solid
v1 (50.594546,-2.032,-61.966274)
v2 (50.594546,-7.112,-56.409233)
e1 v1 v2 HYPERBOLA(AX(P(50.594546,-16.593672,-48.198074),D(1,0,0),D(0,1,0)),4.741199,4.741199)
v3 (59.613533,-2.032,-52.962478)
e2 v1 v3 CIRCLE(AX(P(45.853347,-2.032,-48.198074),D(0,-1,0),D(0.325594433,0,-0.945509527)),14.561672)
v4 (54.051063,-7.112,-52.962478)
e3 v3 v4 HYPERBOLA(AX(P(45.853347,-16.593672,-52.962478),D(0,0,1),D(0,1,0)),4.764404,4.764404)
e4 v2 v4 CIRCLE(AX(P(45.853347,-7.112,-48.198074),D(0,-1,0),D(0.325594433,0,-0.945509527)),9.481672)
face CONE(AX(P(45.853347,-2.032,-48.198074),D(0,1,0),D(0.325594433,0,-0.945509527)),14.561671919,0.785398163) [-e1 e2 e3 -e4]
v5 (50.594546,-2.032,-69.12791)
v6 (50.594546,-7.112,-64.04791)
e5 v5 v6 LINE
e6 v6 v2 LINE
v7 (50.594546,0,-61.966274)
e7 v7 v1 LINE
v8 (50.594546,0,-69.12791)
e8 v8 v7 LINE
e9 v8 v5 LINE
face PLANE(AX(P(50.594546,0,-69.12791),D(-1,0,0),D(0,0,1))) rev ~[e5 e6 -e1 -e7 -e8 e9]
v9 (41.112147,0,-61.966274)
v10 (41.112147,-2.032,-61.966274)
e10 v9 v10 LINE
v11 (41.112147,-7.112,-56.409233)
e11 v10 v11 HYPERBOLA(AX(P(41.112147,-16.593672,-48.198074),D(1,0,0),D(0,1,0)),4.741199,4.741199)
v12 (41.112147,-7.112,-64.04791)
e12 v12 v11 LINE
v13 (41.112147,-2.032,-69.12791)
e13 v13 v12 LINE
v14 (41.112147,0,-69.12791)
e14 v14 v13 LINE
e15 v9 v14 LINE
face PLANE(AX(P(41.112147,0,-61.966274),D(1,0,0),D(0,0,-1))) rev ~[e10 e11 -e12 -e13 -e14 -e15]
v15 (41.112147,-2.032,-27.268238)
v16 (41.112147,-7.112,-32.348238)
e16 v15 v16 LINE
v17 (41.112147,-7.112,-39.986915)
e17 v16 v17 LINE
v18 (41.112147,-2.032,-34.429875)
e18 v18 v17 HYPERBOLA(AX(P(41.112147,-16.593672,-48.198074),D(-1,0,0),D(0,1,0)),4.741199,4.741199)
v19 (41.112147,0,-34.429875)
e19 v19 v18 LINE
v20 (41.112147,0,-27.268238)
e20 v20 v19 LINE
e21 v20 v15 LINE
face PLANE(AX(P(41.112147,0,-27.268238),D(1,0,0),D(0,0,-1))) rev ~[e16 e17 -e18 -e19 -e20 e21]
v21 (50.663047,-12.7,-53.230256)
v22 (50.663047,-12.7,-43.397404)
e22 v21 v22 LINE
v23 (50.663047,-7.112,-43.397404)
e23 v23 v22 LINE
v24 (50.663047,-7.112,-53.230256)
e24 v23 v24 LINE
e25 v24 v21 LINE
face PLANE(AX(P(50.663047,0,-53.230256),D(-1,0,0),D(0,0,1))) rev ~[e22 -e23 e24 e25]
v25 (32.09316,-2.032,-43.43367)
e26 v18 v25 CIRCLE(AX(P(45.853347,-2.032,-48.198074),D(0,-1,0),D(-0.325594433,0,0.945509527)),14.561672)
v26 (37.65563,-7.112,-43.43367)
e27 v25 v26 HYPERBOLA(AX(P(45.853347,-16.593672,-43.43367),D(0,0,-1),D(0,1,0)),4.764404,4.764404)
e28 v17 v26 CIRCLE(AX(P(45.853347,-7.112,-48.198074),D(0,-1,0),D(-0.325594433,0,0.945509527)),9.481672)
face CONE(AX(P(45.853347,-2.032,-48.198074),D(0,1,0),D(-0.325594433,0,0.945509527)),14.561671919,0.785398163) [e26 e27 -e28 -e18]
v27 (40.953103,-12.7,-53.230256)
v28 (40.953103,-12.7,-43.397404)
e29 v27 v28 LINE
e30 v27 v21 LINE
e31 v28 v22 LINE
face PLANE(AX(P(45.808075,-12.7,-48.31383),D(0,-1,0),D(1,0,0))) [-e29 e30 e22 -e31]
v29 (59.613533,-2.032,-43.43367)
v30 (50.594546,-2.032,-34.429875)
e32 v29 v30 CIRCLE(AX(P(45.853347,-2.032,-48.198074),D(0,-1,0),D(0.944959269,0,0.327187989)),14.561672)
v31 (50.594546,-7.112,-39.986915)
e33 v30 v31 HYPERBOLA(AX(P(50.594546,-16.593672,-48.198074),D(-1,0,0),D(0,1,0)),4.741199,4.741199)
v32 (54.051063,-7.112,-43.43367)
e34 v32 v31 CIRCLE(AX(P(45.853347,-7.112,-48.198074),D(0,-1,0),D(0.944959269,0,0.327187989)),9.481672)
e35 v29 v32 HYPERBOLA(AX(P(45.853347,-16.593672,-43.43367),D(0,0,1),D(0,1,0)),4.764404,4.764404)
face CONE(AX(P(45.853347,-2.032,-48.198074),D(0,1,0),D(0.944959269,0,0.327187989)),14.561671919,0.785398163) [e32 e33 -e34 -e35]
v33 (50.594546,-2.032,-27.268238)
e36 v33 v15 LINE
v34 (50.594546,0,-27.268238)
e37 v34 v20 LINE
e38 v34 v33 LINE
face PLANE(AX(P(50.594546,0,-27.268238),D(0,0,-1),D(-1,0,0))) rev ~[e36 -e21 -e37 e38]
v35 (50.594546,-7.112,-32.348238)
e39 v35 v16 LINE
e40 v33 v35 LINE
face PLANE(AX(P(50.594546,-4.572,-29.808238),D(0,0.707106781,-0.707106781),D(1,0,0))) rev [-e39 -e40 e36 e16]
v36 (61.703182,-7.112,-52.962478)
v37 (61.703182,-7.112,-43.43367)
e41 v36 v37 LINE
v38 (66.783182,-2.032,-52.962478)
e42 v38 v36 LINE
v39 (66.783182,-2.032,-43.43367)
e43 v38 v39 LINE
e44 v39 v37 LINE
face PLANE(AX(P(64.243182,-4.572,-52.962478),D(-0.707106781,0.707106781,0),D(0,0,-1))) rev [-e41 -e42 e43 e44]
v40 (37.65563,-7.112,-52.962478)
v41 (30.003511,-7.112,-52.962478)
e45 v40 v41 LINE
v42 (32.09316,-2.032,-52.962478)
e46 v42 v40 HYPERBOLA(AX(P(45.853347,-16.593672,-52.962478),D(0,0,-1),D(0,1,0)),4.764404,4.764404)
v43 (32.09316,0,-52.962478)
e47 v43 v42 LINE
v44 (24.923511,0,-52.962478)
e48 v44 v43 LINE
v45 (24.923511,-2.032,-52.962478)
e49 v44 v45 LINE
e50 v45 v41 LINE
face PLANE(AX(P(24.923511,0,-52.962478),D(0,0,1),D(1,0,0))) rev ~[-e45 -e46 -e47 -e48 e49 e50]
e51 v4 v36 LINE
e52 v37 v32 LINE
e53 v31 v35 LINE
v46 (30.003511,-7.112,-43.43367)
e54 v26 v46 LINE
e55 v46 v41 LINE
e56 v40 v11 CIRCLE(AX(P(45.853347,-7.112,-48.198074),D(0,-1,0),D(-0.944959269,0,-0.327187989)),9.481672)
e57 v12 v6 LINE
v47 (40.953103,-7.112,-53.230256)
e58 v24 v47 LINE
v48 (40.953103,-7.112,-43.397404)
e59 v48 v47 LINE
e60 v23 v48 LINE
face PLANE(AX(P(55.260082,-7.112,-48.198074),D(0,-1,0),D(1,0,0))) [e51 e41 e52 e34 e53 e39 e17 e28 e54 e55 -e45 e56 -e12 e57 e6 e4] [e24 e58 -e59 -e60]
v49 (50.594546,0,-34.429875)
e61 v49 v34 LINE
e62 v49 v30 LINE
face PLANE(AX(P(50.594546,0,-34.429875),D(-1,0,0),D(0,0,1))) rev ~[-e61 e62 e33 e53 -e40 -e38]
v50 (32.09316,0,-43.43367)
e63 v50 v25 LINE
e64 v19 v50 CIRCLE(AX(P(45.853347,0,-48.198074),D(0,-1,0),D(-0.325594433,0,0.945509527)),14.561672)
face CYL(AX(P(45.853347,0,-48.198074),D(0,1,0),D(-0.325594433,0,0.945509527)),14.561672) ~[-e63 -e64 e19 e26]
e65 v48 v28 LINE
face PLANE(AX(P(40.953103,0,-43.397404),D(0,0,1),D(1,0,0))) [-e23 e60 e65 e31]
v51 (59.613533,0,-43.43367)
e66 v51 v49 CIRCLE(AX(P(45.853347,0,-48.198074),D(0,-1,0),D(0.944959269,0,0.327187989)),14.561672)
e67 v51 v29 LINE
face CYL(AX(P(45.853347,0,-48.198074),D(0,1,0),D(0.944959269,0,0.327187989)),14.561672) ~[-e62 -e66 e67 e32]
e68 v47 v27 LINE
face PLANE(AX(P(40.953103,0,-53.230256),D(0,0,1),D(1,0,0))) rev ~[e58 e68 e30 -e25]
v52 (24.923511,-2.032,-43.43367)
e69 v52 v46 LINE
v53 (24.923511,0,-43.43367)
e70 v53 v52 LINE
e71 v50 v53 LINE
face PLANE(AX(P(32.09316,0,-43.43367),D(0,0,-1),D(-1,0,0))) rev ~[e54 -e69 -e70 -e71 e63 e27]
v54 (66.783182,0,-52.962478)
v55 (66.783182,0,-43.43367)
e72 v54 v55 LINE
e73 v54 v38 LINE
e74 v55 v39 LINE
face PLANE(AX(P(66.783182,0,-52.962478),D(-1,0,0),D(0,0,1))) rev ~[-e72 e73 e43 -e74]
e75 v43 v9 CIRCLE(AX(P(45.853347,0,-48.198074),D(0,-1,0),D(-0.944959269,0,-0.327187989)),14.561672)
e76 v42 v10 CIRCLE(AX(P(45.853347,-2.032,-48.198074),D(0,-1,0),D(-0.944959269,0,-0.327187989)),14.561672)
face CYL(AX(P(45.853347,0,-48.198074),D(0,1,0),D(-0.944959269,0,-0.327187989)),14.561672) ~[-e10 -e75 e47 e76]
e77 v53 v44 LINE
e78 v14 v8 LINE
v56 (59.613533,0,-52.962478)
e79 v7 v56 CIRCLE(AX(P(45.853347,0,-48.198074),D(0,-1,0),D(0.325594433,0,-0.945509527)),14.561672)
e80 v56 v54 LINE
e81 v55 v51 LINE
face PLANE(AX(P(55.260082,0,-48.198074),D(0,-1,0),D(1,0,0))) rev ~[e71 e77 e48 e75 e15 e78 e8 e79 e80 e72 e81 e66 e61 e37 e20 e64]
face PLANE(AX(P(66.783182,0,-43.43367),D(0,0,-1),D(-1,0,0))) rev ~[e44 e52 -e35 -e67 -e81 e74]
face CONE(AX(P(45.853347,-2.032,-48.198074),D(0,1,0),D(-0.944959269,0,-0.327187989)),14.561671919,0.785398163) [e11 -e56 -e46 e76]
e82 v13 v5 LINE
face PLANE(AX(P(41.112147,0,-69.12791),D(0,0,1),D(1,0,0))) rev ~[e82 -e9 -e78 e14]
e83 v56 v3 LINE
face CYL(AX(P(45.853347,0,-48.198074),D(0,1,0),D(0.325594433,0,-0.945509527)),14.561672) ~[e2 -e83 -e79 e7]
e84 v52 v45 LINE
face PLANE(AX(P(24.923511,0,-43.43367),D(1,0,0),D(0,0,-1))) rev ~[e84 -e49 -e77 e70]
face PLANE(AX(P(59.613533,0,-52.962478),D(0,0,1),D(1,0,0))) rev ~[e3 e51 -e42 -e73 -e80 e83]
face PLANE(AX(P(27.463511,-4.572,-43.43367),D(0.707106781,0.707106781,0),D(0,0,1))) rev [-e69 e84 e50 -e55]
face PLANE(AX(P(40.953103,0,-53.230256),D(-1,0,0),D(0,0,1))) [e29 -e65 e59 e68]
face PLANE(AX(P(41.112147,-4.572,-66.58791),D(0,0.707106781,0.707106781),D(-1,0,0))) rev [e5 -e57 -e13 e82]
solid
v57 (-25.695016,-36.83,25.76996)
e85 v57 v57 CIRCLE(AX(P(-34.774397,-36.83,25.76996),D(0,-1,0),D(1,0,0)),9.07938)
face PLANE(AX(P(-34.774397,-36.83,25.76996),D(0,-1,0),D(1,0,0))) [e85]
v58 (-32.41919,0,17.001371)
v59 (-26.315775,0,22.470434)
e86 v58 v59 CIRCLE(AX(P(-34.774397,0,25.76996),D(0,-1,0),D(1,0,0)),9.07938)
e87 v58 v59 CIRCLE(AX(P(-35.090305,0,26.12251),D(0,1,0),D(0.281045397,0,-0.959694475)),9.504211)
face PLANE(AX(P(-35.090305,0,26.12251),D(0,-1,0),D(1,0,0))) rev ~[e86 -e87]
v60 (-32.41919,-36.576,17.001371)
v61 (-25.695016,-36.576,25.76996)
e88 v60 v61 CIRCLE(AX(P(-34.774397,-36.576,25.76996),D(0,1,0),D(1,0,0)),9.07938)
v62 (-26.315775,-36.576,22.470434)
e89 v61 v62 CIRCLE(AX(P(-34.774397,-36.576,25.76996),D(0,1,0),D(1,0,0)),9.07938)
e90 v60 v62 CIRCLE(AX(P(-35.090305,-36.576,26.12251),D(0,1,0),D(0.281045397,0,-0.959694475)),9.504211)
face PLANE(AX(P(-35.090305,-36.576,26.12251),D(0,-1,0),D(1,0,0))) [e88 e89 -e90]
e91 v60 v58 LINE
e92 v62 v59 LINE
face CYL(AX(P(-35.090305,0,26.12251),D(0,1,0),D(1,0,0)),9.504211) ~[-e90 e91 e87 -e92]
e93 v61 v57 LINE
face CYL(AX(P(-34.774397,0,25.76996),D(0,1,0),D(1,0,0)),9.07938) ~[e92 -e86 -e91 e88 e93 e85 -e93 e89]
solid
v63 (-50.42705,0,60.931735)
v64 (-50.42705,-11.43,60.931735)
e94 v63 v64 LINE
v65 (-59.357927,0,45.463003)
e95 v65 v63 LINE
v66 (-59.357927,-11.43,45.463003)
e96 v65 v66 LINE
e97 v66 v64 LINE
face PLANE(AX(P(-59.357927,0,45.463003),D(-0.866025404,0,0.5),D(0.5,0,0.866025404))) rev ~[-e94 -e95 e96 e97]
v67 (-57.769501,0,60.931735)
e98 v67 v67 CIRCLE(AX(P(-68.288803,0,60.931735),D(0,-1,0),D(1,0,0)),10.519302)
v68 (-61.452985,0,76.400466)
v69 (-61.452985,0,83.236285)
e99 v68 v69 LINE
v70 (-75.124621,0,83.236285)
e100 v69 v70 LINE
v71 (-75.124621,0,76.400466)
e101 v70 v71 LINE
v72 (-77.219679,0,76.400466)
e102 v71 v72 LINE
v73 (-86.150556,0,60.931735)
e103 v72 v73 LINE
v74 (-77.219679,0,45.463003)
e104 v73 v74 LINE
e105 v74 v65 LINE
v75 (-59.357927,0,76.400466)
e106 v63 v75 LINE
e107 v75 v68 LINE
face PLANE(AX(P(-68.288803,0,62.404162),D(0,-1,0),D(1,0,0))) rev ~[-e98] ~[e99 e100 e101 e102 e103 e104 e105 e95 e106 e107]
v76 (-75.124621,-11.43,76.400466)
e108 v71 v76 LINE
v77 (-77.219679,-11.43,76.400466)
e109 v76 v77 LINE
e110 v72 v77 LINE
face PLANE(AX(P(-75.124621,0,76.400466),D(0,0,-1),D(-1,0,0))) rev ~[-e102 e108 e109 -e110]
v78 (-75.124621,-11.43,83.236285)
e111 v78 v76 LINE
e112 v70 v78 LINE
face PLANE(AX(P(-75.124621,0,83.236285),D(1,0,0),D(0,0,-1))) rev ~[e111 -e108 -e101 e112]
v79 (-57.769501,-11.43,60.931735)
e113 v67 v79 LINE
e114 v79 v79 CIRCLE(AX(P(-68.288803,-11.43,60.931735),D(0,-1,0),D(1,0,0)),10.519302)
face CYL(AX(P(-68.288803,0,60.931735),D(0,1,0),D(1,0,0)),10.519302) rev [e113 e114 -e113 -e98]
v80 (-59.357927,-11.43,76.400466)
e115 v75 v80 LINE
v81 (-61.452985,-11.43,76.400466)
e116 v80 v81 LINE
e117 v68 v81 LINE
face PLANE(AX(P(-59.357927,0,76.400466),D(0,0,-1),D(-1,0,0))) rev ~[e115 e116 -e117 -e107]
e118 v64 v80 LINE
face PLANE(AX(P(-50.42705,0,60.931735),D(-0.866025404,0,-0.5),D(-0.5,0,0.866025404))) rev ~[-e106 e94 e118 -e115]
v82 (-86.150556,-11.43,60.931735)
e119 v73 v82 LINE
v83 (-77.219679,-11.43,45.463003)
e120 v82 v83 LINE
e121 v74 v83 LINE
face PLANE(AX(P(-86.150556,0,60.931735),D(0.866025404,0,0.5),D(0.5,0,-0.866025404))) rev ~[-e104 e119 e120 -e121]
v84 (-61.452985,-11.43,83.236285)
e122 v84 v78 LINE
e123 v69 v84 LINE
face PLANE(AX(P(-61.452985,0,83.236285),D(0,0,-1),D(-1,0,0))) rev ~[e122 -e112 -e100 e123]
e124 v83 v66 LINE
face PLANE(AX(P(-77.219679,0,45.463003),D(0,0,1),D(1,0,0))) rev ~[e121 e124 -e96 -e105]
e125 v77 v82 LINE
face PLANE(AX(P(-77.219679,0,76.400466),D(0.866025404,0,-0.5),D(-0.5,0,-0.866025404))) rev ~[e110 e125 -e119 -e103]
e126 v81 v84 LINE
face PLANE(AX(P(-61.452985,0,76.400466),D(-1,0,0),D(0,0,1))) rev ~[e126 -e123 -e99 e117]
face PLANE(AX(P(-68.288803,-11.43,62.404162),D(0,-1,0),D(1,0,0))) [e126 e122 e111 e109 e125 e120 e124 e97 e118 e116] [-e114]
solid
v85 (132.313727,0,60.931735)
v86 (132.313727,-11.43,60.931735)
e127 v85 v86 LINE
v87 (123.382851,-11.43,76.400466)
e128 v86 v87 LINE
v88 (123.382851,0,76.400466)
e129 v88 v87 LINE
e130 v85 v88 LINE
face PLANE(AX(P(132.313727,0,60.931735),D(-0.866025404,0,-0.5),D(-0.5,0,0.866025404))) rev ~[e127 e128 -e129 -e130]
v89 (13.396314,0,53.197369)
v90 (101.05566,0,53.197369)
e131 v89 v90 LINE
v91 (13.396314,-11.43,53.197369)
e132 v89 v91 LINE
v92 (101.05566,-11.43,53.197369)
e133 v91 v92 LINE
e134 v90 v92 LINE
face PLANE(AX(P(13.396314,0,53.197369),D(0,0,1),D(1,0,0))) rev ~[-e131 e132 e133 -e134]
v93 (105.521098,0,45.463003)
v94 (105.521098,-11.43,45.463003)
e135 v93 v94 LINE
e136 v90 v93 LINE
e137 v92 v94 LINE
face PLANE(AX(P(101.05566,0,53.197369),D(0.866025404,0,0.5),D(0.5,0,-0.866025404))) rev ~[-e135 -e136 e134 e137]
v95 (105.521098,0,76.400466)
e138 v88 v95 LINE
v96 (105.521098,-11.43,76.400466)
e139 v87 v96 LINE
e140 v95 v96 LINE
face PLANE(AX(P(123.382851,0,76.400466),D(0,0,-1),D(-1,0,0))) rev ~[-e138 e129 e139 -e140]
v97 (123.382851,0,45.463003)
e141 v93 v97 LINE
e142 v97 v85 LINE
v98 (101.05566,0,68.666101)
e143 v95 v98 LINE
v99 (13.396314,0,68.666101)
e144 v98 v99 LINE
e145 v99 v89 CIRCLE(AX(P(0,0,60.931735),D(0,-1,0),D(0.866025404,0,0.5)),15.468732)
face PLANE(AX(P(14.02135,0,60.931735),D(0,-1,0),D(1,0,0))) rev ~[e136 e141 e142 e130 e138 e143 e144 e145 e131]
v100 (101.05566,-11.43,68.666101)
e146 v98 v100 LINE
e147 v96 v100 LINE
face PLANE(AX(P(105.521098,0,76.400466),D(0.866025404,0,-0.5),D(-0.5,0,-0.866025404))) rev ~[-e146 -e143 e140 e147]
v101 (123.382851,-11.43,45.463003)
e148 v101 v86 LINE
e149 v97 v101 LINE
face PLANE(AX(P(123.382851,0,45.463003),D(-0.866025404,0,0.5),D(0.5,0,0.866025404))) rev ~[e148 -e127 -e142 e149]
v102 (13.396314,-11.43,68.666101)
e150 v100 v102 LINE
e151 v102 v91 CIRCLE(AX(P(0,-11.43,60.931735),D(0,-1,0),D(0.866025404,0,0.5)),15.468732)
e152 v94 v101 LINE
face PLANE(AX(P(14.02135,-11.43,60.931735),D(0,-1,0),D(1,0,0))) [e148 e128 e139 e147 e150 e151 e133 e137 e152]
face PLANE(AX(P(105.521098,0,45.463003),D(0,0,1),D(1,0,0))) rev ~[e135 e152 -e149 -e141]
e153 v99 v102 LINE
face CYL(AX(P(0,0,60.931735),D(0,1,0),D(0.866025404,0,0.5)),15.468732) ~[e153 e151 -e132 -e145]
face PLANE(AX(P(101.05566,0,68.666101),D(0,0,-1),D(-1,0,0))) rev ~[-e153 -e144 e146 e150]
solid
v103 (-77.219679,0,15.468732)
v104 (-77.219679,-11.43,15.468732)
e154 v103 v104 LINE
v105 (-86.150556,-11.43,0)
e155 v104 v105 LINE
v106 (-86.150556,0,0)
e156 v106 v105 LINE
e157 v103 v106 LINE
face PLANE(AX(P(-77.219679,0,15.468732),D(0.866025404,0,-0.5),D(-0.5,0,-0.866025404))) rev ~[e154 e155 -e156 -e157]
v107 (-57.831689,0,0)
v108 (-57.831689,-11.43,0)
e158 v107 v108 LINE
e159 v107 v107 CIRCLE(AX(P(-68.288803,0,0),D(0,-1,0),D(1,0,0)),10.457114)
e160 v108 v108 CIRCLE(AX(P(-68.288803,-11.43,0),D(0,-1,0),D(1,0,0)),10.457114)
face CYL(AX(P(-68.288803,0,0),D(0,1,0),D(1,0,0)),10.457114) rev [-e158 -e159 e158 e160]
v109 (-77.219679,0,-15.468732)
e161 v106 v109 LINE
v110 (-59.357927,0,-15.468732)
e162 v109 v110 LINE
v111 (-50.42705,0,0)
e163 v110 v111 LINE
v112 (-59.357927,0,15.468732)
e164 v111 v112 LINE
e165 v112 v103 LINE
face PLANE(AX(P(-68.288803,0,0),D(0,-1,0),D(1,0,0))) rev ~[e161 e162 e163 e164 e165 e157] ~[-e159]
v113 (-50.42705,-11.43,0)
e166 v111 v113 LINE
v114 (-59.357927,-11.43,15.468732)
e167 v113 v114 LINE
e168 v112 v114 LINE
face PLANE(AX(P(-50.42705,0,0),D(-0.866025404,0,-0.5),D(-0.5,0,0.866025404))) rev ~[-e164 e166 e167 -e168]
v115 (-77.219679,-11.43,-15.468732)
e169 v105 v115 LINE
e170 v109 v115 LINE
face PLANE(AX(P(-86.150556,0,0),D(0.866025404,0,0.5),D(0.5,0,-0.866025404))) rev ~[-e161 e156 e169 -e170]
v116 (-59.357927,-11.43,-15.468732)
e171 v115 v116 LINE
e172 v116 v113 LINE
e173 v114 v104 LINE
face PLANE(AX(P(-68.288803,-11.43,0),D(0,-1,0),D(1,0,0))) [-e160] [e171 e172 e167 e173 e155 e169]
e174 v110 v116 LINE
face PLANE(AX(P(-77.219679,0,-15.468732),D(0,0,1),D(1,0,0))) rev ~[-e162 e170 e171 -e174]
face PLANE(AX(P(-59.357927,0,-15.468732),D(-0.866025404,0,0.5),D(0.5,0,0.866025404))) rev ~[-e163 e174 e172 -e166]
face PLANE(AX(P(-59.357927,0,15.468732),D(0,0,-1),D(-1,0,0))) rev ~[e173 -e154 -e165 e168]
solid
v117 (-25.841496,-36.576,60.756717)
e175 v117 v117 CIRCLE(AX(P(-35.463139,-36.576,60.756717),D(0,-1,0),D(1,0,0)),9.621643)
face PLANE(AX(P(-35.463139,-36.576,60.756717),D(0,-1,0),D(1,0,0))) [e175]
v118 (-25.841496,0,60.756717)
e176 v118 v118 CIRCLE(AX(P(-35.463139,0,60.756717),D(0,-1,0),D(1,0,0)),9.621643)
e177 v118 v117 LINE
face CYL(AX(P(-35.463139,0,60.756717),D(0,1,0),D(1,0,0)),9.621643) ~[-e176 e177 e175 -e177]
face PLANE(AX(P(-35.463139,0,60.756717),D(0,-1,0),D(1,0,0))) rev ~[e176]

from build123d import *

# Parameters (mm, degrees)
F0_R      = 10.519302146
F1_DEPTH  = 11.43
F0_R_2    = 10.4571143602
F2_R      = 9.5042113309
F3_DEPTH  = 36.576
F2_R_2    = 9.621642993
F5_DEPTH  = 7.112
F6_SIZE   = 5.08
F7_W      = 9.7099430859
F7_H      = 9.8328515887
F8_DEPTH  = 12.7
F9_R      = 9.0793803352
F10_DEPTH = 36.83


with BuildPart() as f1:
    # F0 (on Front) → F1 (new body)
    with BuildSketch(Plane.XZ):
        Polygon((-75.1246213913, 76.4004662633), (-77.2196794092, 76.4004662633), (-86.1505557177, 60.9317347407), (-77.2196794092, 45.4630032182), (-59.357926792, 45.4630032182), (-50.4270504834, 60.9317347407), (-59.357926792, 76.4004662633), (-61.4529848099, 76.4004662633), (-61.4529848099, 69.5646479726), (-68.2888031006, 76.4004662633), (-75.1246213913, 69.5646479726), align=None)
        with Locations((-68.2888031006, 60.9317347407)):
            Circle(F0_R, mode=Mode.SUBTRACT)
        Polygon((-75.1246213913, 83.236284554), (-75.1246213913, 76.4004662633), (-68.2888031006, 76.4004662633), (-61.4529848099, 76.4004662633), (-61.4529848099, 83.236284554), align=None)
        Polygon((-68.2888031006, 76.4004662633), (-75.1246213913, 76.4004662633), (-75.1246213913, 69.5646479726), align=None)
        Polygon((-61.4529848099, 76.4004662633), (-68.2888031006, 76.4004662633), (-61.4529848099, 69.5646479726), align=None)
    extrude(amount=F1_DEPTH)


with BuildPart() as f1b:
    # F0 (on Front) → F1, piece 2 (new body)
    with BuildSketch(Plane.XZ):
        with BuildLine():
            ThreePointArc((15.4687315226, 60.9317347407), (14.9416472776, 64.9353370624), (13.3963144629, 68.666100502))
            Line((13.3963144629, 68.666100502), (13.3963144629, 53.1973689795))
            ThreePointArc((13.3963144629, 53.1973689795), (14.9416472776, 56.9281324191), (15.4687315226, 60.9317347407))
        make_face()
        with BuildLine():
            Line((101.0556601675, 68.666100502), (13.3963144629, 68.666100502))
            ThreePointArc((13.3963144629, 68.666100502), (14.9416472776, 64.9353370624), (15.4687315226, 60.9317347407))
            ThreePointArc((15.4687315226, 60.9317347407), (14.9416472776, 56.9281324191), (13.3963144629, 53.1973689795))
            Line((13.3963144629, 53.1973689795), (101.0556601675, 53.1973689795))
            Line((101.0556601675, 53.1973689795), (96.5902220132, 60.9317347407))
            Line((96.5902220132, 60.9317347407), (101.0556601675, 68.666100502))
        make_face()
        with BuildLine():
            Line((13.3963144629, 53.1973689795), (13.3963144629, 68.666100502))
            ThreePointArc((13.3963144629, 68.666100502), (-15.4687315226, 60.9317347407), (13.3963144629, 53.1973689795))
        make_face()
        Polygon((105.5210983218, 76.4004662633), (101.0556601675, 68.666100502), (114.4519746304, 68.666100502), (114.4519746304, 53.1973689795), (101.0556601675, 53.1973689795), (105.5210983218, 45.4630032182), (123.3828509389, 45.4630032182), (132.3137272475, 60.9317347407), (123.3828509389, 76.4004662633), align=None)
        Polygon((114.4519746304, 68.666100502), (101.0556601675, 68.666100502), (96.5902220132, 60.9317347407), (101.0556601675, 53.1973689795), (114.4519746304, 53.1973689795), align=None)
    extrude(amount=F1_DEPTH)


with BuildPart() as f1c:
    # F0 (on Front) → F1, piece 3 (new body)
    with BuildSketch(Plane.XZ):
        Polygon((-59.357926792, -15.4687315226), (-50.4270504834, 0), (-59.357926792, 15.4687315226), (-77.2196794092, 15.4687315226), (-86.1505557177, 0), (-77.2196794092, -15.4687315226), align=None)
        with Locations((-68.2888031006, 0)):
            Circle(F0_R_2, mode=Mode.SUBTRACT)
    extrude(amount=F1_DEPTH)


with BuildPart() as f3:
    # F2 (on Front) → F3 (new body)
    with BuildSketch(Plane.XZ):
        with Locations((-35.0903049111, 26.1225104332)):
            Circle(F2_R)
    extrude(amount=F3_DEPTH)

    # F9 (on Front) → F10 (join)
    with BuildSketch(Plane.XZ):
        with Locations((-34.7743965685, 25.7699601352)):
            Circle(F9_R)
    extrude(amount=F10_DEPTH)


with BuildPart() as f3b:
    # F2 (on Front) → F3, piece 2 (new body)
    with BuildSketch(Plane.XZ):
        with Locations((-35.4631394148, 60.7567168772)):
            Circle(F2_R_2)
    extrude(amount=F3_DEPTH)


with BuildPart() as f5:
    # F4 (on Front) → F5 (new body)
    with BuildSketch(Plane.XZ):
        with BuildLine():
            ThreePointArc((59.6135334386, -52.9624782503), (60.2132493643, -50.6137481904), (60.4150185059, -48.1980741024))
            ThreePointArc((60.4150185059, -48.1980741024), (60.2132493643, -45.7824000144), (59.6135334386, -43.4336699545))
            Line((59.6135334386, -43.4336699545), (50.5945459008, -43.4336699545))
            Line((50.5945459008, -43.4336699545), (50.5945459008, -52.9624782503))
            Line((50.5945459008, -52.9624782503), (59.6135334386, -52.9624782503))
        make_face()
        with BuildLine():
            ThreePointArc((59.6135334386, -43.4336699545), (60.2132493643, -45.7824000144), (60.4150185059, -48.1980741024))
            ThreePointArc((60.4150185059, -48.1980741024), (60.2132493643, -50.6137481904), (59.6135334386, -52.9624782503))
            Line((59.6135334386, -52.9624782503), (66.783182323, -52.9624782503))
            Line((66.783182323, -52.9624782503), (66.783182323, -43.4336699545))
            Line((66.783182323, -43.4336699545), (59.6135334386, -43.4336699545))
        make_face()
        with BuildLine():
            Line((50.5945459008, -43.4336699545), (59.6135334386, -43.4336699545))
            ThreePointArc((59.6135334386, -43.4336699545), (56.1413204063, -37.8927413191), (50.5945459008, -34.4298745776))
            Line((50.5945459008, -34.4298745776), (50.5945459008, -43.4336699545))
        make_face()
        with BuildLine():
            ThreePointArc((50.5945459008, -61.9662736272), (56.1413204063, -58.5034068857), (59.6135334386, -52.9624782503))
            Line((59.6135334386, -52.9624782503), (50.5945459008, -52.9624782503))
            Line((50.5945459008, -52.9624782503), (50.5945459008, -61.9662736272))
        make_face()
        with BuildLine():
            Line((50.5945459008, -43.4336699545), (50.5945459008, -34.4298745776))
            ThreePointArc((50.5945459008, -34.4298745776), (45.8533465862, -33.6364021827), (41.1121472716, -34.4298745776))
            Line((41.1121472716, -34.4298745776), (41.1121472716, -43.4336699545))
            Line((41.1121472716, -43.4336699545), (50.5945459008, -43.4336699545))
        make_face()
        with BuildLine():
            ThreePointArc((41.1121472716, -34.4298745776), (45.8533465862, -33.6364021827), (50.5945459008, -34.4298745776))
            Line((50.5945459008, -34.4298745776), (50.5945459008, -27.2682383657))
            Line((50.5945459008, -27.2682383657), (41.1121472716, -27.2682383657))
            Line((41.1121472716, -27.2682383657), (41.1121472716, -34.4298745776))
        make_face()
        with BuildLine():
            Line((50.5945459008, -69.1279098392), (50.5945459008, -61.9662736272))
            ThreePointArc((50.5945459008, -61.9662736272), (45.8533465862, -62.7597460221), (41.1121472716, -61.9662736272))
            Line((41.1121472716, -61.9662736272), (41.1121472716, -69.1279098392))
            Line((41.1121472716, -69.1279098392), (50.5945459008, -69.1279098392))
        make_face()
        with BuildLine():
            ThreePointArc((41.1121472716, -61.9662736272), (45.8533465862, -62.7597460221), (50.5945459008, -61.9662736272))
            Line((50.5945459008, -61.9662736272), (50.5945459008, -52.9624782503))
            Line((50.5945459008, -52.9624782503), (41.1121472716, -52.9624782503))
            Line((41.1121472716, -52.9624782503), (41.1121472716, -61.9662736272))
        make_face()
        with BuildLine():
            Line((41.1121472716, -43.4336699545), (41.1121472716, -34.4298745776))
            ThreePointArc((41.1121472716, -34.4298745776), (35.5653727662, -37.8927413191), (32.0931597339, -43.4336699545))
            Line((32.0931597339, -43.4336699545), (41.1121472716, -43.4336699545))
        make_face()
        with BuildLine():
            Line((41.1121472716, -52.9624782503), (41.1121472716, -43.4336699545))
            Line((41.1121472716, -43.4336699545), (32.0931597339, -43.4336699545))
            ThreePointArc((32.0931597339, -43.4336699545), (31.2916746666, -48.1980741024), (32.0931597339, -52.9624782503))
            Line((32.0931597339, -52.9624782503), (41.1121472716, -52.9624782503))
        make_face()
        with BuildLine():
            ThreePointArc((32.0931597339, -52.9624782503), (35.5653727662, -58.5034068857), (41.1121472716, -61.9662736272))
            Line((41.1121472716, -61.9662736272), (41.1121472716, -52.9624782503))
            Line((41.1121472716, -52.9624782503), (32.0931597339, -52.9624782503))
        make_face()
        with BuildLine():
            ThreePointArc((32.0931597339, -52.9624782503), (31.2916746666, -48.1980741024), (32.0931597339, -43.4336699545))
            Line((32.0931597339, -43.4336699545), (24.9235108495, -43.4336699545))
            Line((24.9235108495, -43.4336699545), (24.9235108495, -52.9624782503))
            Line((24.9235108495, -52.9624782503), (32.0931597339, -52.9624782503))
        make_face()
    extrude(amount=F5_DEPTH)

    # F6
    f6_edges = [f5.edges().sort_by_distance(p)[0] for p in [
        (45.853347, -7.112, -27.268238),
        (66.783182, -7.112, -48.198074),
        (45.853347, -7.112, -69.12791),
        (24.923511, -7.112, -48.198074),
        (56.14132, -7.112, -37.892741),
        (56.14132, -7.112, -58.503407),
        (35.565373, -7.112, -37.892741),
        (35.565373, -7.112, -58.503407),
    ]]
    chamfer(f6_edges, length=F6_SIZE)

    # F7 (on Front) → F8 (join)
    with BuildSketch(Plane.XZ):
        with Locations((45.8080749959, -48.3138300478)):
            Rectangle(F7_W, F7_H)
    extrude(amount=F8_DEPTH)


solid = Compound([f1.part, f1b.part, f1c.part, f3.part, f3b.part, f5.part])
